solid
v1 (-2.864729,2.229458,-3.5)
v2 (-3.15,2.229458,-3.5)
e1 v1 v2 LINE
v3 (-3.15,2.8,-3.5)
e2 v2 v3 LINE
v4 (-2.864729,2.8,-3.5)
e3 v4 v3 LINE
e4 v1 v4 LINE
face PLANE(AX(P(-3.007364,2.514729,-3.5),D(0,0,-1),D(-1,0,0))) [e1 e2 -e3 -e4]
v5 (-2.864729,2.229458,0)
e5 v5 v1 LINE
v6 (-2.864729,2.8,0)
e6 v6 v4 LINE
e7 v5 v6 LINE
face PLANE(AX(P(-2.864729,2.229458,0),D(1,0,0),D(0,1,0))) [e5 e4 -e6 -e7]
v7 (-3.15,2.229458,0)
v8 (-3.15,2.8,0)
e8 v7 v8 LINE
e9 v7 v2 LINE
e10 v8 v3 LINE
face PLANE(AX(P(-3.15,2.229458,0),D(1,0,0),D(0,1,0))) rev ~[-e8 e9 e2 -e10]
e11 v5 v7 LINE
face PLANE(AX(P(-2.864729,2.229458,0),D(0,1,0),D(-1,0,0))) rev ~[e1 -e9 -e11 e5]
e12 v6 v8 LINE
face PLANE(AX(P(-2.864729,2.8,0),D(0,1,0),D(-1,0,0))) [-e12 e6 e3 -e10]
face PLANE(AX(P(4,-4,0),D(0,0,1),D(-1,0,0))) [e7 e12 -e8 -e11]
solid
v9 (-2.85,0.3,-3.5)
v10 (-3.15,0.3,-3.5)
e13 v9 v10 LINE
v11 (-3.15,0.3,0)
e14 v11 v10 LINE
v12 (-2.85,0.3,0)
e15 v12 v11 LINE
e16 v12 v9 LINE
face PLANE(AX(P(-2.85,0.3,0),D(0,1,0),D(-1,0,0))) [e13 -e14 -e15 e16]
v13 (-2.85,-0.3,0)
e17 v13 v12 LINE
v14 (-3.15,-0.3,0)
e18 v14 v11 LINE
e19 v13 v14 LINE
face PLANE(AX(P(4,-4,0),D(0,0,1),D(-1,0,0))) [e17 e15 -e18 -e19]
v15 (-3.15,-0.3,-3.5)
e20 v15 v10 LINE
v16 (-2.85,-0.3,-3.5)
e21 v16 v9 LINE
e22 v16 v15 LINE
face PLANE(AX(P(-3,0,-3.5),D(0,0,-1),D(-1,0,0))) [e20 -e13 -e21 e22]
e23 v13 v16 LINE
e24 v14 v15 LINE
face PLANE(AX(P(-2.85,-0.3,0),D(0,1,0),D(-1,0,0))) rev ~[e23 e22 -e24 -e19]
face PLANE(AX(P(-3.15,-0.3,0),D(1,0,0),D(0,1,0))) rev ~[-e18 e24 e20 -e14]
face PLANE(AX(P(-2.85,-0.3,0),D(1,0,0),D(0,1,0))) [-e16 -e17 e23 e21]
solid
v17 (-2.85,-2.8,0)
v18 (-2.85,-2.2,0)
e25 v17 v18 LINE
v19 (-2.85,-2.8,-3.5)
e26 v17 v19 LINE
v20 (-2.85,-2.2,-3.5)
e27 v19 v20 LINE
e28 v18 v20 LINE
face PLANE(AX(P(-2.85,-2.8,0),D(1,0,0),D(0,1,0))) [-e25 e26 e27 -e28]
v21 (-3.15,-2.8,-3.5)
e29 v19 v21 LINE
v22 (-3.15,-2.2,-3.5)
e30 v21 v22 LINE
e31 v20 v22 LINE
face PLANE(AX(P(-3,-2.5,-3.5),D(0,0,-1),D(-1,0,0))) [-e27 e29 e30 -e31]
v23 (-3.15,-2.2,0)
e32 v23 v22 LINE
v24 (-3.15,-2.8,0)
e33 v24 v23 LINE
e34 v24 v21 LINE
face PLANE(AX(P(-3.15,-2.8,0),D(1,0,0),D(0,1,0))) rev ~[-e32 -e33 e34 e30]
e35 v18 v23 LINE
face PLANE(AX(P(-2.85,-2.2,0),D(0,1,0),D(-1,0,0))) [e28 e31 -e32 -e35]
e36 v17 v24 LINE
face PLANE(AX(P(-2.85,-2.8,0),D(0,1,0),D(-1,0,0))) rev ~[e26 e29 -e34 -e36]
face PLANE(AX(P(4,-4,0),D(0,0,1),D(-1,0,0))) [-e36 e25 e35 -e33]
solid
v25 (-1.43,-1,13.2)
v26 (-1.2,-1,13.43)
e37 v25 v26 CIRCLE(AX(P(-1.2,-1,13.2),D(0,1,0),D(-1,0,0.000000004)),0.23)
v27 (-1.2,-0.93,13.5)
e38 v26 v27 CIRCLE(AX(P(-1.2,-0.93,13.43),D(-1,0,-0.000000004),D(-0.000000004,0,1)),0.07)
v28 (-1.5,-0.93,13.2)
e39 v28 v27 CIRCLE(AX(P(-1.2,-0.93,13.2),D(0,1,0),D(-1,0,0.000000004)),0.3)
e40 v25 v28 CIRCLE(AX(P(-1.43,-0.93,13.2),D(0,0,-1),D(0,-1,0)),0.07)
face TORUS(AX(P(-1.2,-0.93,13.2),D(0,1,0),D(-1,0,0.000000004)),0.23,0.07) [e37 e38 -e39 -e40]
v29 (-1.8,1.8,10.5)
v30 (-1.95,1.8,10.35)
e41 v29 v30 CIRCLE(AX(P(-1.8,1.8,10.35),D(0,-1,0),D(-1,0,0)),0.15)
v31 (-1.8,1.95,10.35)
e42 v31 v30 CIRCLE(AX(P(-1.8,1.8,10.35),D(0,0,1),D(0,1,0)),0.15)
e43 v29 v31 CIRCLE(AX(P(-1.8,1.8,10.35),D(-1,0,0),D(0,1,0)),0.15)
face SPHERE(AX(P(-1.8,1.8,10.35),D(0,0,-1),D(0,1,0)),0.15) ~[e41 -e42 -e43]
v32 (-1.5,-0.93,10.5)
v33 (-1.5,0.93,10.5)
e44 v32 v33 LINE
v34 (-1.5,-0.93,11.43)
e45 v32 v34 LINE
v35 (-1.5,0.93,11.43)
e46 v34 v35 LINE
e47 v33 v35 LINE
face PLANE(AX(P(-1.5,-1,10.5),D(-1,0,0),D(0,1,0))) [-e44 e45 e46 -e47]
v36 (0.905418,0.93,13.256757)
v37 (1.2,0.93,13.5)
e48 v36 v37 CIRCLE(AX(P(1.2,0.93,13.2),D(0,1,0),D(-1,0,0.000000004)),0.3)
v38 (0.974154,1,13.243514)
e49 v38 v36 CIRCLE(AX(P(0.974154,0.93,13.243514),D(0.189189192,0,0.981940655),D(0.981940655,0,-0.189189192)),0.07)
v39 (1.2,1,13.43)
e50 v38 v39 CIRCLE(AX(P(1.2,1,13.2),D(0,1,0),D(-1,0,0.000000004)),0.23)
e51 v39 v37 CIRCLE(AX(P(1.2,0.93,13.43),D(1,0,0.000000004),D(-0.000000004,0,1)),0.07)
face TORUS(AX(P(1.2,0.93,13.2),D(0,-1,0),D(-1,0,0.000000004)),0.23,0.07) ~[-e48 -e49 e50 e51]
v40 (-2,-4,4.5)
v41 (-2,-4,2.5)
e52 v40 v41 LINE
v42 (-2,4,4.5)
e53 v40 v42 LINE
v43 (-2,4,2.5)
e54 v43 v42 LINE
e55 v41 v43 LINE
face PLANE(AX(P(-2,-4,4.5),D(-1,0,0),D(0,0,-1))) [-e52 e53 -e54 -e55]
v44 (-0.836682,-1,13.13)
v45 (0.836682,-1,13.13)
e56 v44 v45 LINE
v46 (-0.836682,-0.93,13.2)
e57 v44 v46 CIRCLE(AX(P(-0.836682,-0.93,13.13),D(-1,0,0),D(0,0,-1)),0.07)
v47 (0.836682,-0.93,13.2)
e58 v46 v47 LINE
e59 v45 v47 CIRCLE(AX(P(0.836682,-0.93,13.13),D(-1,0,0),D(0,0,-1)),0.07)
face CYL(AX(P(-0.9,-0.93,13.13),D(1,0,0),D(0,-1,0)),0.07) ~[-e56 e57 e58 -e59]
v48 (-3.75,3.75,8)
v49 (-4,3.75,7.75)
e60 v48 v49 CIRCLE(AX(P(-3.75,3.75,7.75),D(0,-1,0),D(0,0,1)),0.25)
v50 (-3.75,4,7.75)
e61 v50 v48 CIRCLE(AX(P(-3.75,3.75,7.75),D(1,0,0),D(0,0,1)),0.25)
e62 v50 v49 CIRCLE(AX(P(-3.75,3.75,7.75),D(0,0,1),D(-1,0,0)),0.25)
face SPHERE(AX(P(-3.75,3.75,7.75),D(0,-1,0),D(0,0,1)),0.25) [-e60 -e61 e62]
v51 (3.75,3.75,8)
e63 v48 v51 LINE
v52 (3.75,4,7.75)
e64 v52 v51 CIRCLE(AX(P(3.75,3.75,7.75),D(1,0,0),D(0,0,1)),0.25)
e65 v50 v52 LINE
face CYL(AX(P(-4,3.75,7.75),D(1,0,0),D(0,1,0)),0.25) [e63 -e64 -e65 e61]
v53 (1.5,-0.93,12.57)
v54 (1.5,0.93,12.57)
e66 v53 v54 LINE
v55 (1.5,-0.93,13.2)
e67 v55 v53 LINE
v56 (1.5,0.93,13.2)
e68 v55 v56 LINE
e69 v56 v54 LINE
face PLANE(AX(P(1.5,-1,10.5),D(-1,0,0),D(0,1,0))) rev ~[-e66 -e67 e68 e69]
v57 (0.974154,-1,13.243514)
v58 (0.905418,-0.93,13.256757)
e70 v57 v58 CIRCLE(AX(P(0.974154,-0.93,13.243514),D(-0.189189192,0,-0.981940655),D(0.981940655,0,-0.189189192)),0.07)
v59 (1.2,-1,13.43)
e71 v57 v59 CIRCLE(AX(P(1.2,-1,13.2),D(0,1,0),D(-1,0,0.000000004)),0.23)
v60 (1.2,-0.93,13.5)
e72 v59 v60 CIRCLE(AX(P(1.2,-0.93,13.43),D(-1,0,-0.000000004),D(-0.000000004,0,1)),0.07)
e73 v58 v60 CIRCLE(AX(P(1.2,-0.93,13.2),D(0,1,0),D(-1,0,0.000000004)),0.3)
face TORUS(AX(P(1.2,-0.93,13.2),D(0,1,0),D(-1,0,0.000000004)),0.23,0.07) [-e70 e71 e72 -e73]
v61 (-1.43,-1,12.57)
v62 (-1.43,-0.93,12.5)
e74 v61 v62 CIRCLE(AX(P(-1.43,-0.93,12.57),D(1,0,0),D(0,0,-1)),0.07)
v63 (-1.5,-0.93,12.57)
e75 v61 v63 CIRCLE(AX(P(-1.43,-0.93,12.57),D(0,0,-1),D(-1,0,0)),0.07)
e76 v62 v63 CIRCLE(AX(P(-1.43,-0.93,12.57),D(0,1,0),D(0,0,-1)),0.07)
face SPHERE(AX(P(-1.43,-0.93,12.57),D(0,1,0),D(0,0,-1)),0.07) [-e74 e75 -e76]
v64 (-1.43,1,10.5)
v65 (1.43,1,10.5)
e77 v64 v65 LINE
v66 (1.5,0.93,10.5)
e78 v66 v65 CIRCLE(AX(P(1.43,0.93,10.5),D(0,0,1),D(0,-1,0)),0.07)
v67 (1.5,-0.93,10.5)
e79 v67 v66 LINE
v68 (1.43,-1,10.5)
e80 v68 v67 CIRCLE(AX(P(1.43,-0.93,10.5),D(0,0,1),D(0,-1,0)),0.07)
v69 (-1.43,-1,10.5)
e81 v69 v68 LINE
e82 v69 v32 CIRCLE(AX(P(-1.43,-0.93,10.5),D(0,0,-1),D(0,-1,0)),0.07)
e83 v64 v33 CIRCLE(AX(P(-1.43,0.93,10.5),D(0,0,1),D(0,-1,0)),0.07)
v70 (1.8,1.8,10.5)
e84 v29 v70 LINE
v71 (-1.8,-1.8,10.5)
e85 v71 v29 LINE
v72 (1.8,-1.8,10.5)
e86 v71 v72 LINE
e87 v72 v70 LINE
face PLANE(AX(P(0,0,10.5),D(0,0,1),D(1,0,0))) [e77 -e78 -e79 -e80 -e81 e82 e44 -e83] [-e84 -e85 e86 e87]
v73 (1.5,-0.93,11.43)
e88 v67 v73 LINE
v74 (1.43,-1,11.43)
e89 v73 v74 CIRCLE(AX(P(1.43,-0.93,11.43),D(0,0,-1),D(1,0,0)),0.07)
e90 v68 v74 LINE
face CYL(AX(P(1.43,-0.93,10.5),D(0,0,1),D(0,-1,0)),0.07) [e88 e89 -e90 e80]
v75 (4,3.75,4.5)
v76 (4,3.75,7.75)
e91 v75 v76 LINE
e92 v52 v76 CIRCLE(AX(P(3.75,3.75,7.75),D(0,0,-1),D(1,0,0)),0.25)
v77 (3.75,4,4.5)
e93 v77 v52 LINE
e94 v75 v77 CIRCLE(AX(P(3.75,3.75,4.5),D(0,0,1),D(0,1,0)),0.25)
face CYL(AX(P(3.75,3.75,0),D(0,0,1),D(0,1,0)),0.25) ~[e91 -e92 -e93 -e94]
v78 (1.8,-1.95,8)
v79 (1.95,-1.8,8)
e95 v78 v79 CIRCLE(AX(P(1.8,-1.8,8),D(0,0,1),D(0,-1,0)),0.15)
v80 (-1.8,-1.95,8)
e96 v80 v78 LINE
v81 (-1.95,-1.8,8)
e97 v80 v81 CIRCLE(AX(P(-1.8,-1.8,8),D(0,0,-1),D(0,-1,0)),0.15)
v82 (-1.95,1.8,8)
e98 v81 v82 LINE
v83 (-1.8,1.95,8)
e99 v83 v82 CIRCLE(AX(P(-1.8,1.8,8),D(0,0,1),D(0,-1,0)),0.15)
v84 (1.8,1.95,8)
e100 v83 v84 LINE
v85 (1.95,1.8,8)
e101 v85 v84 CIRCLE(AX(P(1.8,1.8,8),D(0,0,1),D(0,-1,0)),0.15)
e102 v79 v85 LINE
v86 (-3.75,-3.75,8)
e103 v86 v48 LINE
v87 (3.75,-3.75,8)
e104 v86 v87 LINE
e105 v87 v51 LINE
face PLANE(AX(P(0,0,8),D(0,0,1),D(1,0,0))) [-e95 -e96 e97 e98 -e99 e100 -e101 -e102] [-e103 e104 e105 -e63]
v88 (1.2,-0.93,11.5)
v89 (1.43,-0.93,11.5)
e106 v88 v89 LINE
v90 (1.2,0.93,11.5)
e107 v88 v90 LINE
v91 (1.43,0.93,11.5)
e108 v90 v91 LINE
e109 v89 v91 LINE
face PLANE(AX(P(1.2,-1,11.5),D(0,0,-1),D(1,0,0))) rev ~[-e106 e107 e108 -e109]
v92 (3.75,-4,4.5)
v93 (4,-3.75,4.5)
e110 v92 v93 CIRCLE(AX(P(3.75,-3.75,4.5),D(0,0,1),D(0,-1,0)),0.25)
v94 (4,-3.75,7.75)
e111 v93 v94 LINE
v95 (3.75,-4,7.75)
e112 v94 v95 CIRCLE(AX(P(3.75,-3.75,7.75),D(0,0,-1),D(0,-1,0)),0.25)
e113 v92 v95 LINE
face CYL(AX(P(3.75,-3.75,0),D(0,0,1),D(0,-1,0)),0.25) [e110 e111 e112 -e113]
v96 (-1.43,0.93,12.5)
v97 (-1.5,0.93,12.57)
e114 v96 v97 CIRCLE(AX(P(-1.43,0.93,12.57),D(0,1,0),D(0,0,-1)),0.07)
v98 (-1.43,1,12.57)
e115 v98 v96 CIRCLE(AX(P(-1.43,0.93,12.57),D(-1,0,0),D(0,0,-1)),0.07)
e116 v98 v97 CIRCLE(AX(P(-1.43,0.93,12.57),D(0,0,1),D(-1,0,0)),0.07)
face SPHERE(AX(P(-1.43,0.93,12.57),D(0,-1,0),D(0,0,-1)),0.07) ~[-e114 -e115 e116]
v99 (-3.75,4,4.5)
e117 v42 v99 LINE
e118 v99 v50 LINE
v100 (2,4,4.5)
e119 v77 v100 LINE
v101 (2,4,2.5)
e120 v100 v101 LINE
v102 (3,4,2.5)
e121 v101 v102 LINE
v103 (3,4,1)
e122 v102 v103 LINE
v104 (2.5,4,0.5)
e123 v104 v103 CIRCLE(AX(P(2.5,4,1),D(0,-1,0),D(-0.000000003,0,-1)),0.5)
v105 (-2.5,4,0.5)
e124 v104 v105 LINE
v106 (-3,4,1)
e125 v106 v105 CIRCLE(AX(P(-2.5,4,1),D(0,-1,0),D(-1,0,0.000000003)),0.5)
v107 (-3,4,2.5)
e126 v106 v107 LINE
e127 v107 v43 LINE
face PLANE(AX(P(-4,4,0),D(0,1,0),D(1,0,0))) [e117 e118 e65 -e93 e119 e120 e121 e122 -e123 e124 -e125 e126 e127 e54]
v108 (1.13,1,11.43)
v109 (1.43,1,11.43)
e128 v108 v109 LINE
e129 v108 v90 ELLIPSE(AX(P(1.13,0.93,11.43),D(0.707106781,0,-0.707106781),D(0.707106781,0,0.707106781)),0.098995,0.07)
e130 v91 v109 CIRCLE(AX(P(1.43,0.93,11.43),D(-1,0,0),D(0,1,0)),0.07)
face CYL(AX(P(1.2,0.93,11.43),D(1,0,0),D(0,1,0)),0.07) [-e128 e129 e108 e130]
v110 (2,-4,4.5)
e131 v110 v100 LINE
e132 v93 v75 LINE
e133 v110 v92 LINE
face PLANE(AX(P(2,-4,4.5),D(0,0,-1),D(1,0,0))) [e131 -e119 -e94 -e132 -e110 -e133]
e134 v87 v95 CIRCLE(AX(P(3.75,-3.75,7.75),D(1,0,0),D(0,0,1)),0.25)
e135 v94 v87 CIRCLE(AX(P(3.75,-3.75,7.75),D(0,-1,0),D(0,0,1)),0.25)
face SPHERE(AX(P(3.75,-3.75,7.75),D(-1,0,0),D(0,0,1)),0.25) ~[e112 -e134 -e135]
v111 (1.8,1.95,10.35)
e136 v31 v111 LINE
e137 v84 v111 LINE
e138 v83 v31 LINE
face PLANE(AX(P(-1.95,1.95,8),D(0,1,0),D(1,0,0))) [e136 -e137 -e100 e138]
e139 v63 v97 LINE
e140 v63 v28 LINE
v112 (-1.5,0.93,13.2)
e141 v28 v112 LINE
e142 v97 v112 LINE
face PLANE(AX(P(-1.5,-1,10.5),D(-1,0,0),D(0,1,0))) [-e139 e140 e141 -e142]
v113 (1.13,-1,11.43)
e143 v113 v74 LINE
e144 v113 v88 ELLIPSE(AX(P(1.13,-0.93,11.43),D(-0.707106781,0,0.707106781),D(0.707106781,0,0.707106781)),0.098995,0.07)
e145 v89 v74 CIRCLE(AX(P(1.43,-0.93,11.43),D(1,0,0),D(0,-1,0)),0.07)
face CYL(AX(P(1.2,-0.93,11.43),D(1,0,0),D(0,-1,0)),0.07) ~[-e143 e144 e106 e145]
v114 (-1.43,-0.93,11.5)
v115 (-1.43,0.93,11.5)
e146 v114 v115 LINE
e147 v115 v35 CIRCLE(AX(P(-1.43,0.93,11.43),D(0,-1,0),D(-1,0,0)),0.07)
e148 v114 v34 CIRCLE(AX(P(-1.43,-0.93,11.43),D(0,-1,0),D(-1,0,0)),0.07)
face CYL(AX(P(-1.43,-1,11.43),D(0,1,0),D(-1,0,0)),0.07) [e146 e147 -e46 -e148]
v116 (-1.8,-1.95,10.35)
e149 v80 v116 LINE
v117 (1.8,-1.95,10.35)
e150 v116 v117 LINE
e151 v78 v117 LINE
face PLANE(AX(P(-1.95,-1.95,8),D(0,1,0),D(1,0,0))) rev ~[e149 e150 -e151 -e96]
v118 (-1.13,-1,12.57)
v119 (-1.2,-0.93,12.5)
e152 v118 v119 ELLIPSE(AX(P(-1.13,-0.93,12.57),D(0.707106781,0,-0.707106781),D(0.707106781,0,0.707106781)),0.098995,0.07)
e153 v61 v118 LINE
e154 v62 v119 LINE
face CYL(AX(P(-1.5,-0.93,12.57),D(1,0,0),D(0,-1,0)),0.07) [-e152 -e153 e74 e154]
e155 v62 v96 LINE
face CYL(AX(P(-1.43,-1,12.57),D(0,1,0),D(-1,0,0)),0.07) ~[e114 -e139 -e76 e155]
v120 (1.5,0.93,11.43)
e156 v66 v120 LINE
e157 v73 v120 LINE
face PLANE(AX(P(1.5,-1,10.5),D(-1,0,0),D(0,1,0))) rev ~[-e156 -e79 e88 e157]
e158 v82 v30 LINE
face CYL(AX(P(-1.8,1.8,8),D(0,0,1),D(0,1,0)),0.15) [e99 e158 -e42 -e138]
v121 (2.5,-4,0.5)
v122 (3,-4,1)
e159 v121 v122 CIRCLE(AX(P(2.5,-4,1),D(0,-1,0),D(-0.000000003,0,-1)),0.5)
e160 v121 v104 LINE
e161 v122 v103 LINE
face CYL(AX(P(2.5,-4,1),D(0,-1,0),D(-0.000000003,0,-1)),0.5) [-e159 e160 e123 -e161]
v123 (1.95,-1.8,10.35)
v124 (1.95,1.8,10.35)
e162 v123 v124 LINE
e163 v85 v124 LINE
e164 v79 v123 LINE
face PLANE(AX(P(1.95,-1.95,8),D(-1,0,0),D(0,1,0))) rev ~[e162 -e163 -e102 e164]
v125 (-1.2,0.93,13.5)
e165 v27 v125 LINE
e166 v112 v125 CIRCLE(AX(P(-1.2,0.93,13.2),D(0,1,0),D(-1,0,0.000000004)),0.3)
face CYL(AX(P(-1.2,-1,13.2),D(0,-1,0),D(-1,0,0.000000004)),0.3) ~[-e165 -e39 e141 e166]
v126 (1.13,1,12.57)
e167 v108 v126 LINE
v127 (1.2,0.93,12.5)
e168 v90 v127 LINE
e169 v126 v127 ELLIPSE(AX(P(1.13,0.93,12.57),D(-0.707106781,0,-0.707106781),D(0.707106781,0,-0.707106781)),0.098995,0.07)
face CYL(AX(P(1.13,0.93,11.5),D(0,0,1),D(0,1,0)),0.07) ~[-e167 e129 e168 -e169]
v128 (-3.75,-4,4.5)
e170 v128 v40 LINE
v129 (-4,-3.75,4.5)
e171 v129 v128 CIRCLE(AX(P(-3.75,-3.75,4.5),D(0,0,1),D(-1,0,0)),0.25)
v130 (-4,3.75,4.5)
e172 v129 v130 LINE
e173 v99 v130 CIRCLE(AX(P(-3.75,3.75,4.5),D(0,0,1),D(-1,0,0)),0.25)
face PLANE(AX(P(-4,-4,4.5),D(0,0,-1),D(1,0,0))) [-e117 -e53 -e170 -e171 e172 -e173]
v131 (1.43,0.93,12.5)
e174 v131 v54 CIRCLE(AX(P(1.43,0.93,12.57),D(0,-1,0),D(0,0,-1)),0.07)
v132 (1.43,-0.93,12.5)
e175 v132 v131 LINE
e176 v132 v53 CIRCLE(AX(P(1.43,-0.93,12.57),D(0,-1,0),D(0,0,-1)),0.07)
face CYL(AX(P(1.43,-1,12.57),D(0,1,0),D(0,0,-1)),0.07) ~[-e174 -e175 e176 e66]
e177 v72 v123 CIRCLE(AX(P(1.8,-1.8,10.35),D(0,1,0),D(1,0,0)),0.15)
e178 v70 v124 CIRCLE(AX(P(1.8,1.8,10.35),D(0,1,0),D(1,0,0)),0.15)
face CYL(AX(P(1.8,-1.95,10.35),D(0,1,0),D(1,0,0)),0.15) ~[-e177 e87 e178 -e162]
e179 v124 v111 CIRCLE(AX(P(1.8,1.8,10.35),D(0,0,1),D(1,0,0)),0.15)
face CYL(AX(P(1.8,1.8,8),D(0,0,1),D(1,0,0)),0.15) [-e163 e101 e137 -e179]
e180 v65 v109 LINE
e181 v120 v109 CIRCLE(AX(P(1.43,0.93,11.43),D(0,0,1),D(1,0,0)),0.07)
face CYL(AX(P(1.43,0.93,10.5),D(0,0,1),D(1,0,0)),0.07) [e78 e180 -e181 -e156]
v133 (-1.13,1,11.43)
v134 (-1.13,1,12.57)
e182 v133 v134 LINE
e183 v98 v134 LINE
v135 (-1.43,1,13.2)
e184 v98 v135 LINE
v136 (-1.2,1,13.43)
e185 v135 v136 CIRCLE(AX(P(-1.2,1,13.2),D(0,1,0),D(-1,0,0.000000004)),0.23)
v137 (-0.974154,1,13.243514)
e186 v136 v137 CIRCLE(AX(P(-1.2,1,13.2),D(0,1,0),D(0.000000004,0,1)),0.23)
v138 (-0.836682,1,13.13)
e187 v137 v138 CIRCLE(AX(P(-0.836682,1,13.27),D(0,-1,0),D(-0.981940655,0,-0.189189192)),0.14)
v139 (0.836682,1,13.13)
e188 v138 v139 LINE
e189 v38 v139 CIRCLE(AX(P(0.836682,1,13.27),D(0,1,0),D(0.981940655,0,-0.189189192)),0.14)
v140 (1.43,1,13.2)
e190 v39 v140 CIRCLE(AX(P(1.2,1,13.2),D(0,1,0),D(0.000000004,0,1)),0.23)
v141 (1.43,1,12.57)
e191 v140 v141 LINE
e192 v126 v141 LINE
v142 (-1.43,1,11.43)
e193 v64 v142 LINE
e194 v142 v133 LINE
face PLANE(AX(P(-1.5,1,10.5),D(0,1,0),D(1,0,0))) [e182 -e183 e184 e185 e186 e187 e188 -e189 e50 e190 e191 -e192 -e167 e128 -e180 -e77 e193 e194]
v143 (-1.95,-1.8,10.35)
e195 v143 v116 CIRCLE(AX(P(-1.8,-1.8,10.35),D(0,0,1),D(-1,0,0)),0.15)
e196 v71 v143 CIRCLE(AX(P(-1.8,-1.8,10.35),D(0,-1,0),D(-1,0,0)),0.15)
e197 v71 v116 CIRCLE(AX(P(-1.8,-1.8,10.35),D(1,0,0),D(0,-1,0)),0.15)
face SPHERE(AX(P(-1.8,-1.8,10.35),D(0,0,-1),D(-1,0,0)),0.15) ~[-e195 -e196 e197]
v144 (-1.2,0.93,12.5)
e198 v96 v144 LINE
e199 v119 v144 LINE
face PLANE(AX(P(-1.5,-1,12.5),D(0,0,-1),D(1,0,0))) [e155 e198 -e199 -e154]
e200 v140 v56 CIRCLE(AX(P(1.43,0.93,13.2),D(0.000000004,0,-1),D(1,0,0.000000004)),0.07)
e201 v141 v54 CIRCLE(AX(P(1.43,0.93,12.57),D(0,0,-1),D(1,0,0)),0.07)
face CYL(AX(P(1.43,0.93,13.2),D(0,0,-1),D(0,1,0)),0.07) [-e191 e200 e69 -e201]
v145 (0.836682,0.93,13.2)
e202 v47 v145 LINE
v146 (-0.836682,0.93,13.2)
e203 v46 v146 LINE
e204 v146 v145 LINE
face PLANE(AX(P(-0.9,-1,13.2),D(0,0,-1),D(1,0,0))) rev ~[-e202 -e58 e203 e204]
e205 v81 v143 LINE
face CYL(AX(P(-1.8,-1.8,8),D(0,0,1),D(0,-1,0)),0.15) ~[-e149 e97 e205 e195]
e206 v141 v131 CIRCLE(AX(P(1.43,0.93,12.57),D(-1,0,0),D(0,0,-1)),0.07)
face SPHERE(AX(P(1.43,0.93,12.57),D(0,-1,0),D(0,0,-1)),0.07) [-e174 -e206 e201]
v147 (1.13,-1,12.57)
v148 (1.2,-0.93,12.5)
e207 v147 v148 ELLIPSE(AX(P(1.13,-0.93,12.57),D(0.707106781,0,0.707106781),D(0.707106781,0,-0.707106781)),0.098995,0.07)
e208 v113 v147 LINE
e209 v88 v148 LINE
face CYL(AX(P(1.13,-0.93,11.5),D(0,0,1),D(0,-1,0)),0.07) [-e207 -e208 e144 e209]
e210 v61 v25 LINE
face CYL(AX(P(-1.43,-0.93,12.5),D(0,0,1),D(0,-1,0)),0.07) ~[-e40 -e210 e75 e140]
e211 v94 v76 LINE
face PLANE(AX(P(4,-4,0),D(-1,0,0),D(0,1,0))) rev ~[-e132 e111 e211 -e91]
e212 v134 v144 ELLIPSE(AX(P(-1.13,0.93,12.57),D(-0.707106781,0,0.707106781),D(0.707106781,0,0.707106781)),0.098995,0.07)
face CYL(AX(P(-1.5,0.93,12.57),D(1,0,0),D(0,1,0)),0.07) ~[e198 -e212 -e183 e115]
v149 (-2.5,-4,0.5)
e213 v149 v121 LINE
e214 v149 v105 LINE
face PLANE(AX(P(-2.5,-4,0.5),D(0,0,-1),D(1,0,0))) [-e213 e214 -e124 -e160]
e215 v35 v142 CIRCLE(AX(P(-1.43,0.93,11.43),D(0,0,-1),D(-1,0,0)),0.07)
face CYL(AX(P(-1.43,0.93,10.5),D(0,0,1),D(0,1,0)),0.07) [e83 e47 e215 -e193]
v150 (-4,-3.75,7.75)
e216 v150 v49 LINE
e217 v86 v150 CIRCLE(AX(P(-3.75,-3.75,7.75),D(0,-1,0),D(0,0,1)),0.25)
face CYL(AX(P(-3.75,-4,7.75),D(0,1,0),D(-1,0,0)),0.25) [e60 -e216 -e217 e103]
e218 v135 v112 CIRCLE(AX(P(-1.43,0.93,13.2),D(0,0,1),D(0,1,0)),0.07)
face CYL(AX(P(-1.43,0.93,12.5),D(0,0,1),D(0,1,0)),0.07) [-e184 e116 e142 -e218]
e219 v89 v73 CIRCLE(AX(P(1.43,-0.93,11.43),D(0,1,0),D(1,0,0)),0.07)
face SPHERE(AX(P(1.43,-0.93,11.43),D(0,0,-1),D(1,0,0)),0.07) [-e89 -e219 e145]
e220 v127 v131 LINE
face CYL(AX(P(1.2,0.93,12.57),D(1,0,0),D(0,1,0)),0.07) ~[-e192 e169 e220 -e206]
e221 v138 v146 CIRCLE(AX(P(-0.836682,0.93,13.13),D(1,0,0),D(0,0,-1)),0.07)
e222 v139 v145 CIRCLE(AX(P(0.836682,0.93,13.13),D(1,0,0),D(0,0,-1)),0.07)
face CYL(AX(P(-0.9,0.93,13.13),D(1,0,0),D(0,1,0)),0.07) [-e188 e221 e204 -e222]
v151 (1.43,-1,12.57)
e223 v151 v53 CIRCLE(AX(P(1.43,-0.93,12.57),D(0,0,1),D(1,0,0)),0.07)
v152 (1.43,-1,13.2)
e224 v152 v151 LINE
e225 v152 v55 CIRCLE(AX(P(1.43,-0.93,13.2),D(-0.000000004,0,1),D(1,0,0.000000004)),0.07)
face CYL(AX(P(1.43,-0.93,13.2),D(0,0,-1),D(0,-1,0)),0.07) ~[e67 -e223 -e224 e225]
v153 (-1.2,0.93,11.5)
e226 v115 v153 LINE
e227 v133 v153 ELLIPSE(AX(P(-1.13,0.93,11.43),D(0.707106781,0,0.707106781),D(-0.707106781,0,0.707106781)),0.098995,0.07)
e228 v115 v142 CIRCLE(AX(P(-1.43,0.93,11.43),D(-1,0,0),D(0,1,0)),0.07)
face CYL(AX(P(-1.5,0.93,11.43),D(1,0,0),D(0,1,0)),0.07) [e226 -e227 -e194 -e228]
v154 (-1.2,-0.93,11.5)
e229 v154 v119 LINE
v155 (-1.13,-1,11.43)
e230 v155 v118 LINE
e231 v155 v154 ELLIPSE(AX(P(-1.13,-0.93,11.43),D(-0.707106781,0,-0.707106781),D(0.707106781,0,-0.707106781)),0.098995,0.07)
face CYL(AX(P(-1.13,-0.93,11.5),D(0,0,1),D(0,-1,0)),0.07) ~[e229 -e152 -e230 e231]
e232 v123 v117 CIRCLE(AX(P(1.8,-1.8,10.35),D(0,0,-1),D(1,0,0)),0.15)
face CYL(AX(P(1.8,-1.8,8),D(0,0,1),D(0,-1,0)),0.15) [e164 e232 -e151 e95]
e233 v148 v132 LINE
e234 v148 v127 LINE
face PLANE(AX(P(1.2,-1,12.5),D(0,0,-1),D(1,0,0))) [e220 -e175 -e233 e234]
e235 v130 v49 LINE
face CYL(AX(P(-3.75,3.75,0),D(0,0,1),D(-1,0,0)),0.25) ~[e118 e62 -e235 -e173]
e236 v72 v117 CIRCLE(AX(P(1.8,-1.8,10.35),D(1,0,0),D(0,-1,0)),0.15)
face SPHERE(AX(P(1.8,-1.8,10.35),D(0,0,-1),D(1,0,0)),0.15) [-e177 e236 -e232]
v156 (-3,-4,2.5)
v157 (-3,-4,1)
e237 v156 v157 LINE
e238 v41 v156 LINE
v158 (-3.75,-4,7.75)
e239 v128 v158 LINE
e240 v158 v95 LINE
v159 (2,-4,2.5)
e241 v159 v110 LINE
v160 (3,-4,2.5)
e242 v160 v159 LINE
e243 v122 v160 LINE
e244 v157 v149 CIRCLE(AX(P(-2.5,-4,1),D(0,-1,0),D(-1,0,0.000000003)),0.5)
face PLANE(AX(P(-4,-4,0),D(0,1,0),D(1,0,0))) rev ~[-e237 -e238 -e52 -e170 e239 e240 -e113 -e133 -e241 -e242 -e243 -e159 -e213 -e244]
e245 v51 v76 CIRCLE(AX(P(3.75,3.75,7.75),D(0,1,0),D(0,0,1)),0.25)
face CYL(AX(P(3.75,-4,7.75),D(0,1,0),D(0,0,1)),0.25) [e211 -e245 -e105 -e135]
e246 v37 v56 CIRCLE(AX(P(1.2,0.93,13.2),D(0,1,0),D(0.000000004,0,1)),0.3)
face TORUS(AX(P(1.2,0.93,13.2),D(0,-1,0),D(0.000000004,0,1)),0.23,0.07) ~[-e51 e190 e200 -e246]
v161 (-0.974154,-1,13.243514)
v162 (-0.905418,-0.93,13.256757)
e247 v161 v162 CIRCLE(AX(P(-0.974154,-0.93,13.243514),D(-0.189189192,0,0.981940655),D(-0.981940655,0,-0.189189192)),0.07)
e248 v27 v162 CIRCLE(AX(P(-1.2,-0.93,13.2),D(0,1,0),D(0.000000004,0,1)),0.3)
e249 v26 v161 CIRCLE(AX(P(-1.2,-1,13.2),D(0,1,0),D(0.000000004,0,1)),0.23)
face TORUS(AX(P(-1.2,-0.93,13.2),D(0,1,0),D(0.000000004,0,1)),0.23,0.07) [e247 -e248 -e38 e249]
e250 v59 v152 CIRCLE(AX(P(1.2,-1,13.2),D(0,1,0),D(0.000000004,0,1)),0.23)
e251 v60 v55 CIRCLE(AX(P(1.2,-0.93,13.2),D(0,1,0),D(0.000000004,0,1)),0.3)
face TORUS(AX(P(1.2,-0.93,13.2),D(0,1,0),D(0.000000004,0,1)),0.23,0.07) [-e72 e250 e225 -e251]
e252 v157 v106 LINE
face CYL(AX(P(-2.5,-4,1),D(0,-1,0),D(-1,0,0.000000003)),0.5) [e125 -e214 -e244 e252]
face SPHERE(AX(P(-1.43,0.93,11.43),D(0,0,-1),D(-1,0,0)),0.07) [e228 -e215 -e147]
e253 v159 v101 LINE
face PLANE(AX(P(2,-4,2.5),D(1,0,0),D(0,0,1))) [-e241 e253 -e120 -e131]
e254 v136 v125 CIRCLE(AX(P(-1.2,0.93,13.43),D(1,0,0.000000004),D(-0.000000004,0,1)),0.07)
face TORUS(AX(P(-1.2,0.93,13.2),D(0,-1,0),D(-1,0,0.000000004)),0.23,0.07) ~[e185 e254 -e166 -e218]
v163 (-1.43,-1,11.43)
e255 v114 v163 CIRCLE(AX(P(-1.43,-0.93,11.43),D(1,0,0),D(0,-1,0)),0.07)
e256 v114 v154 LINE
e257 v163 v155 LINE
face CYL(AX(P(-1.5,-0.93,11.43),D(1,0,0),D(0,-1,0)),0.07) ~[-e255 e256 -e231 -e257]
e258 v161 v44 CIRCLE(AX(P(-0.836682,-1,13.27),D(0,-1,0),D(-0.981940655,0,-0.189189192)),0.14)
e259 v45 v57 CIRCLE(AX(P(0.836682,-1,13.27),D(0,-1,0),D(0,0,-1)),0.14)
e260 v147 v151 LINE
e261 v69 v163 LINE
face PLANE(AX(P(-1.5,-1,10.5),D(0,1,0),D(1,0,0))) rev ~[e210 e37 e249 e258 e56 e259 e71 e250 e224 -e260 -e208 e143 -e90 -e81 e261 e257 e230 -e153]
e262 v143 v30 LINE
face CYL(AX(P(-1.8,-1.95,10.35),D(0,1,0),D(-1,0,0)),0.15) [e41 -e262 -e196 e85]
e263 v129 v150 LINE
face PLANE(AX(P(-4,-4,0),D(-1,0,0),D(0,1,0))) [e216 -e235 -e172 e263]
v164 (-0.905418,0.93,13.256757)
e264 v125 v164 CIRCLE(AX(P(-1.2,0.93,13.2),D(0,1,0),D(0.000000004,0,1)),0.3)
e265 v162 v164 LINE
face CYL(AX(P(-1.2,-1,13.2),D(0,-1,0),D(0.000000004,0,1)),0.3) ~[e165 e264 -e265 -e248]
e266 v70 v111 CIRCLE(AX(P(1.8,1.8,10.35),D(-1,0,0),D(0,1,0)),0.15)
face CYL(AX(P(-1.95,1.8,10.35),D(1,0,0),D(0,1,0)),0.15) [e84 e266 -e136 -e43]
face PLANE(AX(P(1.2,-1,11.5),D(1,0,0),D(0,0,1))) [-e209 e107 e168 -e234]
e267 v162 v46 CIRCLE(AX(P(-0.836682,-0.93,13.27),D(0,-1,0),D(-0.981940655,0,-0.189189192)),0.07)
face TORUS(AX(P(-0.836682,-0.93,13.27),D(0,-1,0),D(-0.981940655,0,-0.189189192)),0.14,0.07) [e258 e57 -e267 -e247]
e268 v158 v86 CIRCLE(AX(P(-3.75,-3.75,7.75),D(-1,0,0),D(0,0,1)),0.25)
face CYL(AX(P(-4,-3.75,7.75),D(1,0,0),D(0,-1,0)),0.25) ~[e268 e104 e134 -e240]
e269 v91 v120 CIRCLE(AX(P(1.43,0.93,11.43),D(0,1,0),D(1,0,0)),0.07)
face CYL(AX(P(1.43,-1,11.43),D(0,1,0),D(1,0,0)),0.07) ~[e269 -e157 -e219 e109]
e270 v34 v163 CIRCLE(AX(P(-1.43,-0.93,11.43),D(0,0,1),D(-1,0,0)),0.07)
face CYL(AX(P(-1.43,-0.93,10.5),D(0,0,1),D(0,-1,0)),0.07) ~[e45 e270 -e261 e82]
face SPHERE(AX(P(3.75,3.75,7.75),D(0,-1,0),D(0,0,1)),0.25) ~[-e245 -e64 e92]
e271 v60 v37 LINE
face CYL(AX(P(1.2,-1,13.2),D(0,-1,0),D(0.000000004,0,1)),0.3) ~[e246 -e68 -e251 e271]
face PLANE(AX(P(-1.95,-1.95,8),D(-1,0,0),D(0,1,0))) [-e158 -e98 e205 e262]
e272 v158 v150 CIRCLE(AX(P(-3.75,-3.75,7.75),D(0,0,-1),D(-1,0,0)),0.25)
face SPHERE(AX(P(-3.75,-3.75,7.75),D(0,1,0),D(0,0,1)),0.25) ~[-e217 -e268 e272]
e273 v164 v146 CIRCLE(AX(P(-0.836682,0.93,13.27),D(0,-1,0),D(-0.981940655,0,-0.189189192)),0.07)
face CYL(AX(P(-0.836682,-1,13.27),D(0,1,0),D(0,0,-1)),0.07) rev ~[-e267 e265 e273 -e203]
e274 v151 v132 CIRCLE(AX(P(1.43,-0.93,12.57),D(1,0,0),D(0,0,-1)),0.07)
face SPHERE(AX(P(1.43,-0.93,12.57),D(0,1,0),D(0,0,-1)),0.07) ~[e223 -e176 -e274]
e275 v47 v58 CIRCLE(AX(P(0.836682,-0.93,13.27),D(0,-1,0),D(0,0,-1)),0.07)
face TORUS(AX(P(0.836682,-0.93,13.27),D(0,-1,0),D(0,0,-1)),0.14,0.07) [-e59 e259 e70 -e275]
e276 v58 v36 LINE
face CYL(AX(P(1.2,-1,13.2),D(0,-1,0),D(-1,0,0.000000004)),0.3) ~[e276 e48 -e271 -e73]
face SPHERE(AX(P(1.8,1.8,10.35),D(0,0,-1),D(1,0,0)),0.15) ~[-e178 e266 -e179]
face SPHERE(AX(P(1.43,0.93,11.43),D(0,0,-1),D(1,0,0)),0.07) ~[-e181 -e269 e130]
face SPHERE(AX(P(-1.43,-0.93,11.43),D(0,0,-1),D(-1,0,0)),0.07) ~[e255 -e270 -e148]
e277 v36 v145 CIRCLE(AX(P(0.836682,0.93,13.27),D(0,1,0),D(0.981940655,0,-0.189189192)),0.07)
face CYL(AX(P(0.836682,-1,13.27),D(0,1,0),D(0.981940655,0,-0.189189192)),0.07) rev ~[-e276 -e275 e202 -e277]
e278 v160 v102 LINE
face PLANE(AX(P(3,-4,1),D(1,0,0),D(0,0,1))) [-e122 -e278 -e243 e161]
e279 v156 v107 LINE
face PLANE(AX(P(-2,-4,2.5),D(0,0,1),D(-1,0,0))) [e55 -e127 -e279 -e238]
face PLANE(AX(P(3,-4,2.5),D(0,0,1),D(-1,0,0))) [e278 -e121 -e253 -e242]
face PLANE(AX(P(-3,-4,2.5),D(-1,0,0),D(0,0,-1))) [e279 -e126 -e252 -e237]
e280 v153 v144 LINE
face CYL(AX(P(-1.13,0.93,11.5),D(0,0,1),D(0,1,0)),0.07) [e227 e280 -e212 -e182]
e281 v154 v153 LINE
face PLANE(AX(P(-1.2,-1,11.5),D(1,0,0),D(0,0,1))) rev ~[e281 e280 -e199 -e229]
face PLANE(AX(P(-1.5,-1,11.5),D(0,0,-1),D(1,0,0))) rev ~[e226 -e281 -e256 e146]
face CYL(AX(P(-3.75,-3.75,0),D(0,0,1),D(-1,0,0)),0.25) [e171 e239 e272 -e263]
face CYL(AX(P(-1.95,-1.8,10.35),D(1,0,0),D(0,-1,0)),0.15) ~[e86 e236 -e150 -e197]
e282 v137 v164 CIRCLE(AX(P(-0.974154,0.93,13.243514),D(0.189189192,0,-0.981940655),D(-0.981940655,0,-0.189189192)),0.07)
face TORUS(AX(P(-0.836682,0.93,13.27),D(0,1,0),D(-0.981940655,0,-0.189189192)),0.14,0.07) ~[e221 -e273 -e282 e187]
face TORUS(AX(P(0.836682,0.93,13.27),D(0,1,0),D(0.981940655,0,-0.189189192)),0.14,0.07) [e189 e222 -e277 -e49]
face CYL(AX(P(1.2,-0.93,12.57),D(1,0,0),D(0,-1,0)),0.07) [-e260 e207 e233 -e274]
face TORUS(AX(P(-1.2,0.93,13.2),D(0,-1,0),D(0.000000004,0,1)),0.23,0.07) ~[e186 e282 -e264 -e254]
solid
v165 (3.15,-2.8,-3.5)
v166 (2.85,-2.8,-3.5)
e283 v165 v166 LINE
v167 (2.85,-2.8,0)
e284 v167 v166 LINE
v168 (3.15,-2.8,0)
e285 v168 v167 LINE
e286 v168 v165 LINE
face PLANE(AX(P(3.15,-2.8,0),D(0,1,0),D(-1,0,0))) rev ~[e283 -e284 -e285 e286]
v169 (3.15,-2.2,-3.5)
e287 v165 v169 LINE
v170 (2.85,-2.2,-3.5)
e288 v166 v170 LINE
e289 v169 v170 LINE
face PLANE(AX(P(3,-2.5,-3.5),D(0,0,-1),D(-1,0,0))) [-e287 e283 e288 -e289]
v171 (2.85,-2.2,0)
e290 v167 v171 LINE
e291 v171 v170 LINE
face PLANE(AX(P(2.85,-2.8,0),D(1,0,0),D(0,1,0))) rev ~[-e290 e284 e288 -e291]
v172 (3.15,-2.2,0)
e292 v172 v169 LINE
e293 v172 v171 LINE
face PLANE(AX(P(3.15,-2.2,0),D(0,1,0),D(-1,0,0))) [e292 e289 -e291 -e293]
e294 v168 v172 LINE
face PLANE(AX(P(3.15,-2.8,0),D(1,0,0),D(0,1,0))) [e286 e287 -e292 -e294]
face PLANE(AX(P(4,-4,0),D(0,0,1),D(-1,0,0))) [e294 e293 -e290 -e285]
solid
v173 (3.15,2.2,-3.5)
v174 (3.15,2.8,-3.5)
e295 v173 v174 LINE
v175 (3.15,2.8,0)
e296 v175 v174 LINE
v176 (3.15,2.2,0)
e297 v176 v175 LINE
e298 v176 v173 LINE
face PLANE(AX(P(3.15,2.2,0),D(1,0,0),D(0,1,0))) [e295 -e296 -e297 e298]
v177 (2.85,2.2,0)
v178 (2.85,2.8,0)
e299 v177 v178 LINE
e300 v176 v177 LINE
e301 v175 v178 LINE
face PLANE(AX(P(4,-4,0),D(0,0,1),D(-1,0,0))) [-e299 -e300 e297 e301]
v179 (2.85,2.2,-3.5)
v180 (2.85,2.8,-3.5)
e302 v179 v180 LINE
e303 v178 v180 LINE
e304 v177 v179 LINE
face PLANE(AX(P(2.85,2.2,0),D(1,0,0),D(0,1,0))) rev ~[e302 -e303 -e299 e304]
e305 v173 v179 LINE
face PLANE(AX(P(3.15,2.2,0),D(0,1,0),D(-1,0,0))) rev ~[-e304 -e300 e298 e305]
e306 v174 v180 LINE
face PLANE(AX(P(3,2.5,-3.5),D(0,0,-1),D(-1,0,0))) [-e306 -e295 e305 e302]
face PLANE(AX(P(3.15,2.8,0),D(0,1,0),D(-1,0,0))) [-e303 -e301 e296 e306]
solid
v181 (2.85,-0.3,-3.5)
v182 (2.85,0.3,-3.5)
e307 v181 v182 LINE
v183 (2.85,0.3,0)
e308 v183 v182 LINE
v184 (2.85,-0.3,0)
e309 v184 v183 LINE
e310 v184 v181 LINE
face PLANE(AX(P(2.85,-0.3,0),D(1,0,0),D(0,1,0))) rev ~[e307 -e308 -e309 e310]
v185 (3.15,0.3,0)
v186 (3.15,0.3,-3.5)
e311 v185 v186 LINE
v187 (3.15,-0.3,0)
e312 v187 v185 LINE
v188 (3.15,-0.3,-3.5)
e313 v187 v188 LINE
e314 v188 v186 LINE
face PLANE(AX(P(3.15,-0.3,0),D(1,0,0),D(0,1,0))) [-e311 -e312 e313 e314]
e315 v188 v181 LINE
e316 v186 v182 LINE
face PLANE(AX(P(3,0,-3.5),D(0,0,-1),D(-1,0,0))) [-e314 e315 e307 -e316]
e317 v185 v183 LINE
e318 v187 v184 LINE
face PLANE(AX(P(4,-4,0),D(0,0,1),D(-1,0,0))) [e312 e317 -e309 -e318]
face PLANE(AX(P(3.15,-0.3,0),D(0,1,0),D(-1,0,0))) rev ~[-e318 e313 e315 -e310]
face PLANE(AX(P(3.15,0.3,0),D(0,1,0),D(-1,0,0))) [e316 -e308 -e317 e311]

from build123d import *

# Parameters (mm, degrees)
SKETCH_1_W          = 8
SKETCH_1_H          = 8
EXTRUDE_1_DEPTH     = 8
SKETCH_3_W          = 3.9
SKETCH_3_H          = 3.9
EXTRUDE_2_DEPTH     = 2.5
SKETCH_4_W          = 3
SKETCH_4_H          = 2
EXTRUDE_3_DEPTH     = 3
SKETCH_5_W          = 0.3
SKETCH_5_H          = 0.6
SKETCH_5_W_2        = 0.285271027
SKETCH_5_H_2        = 0.570542054
EXTRUDE_4_DEPTH     = 3.5
SKETCH_6_W          = 0.3
SKETCH_6_H          = 1
CUT_EXTRUDE_1_DEPTH = 2
CUT_EXTRUDE_3_DEPTH = 2
FILLET_1_R          = 0.25
FILLET_2_R          = 0.15
FILLET_3_R          = 0.07
CUT_EXTRUDE_5_DEPTH = 9


with BuildPart() as part:
    # 草圖1 → 填料-伸長1 (new body)
    with BuildSketch(Plane.XY):
        Rectangle(SKETCH_1_W, SKETCH_1_H)
    extrude(amount=EXTRUDE_1_DEPTH)

    # 草圖3 → 填料-伸長2 (add)
    with BuildSketch(Plane.XY.offset(8)):
        Rectangle(SKETCH_3_W, SKETCH_3_H)
    extrude(amount=EXTRUDE_2_DEPTH)

    # 草圖4 → 填料-伸長3 (add)
    with BuildSketch(Plane.XY.offset(10.5)):
        Rectangle(SKETCH_4_W, SKETCH_4_H)
    extrude(amount=EXTRUDE_3_DEPTH)

    # 草圖5 → 填料-伸長4 (add)
    with BuildSketch(Plane(origin=(0, 0, 0), x_dir=(-1, 0, 0), z_dir=(0, 0, -1))):
        with Locations((-3, 0)):
            Rectangle(SKETCH_5_W, SKETCH_5_H)
        with Locations((-3, 2.5)):
            Rectangle(SKETCH_5_W, SKETCH_5_H)
        with Locations((-3, -2.5)):
            Rectangle(SKETCH_5_W, SKETCH_5_H)
        with Locations((3, -2.5)):
            Rectangle(SKETCH_5_W, SKETCH_5_H)
        with Locations((3, 0)):
            Rectangle(SKETCH_5_W, SKETCH_5_H)
        with Locations((3.007364487, 2.514728973)):
            Rectangle(SKETCH_5_W_2, SKETCH_5_H_2)
    extrude(amount=EXTRUDE_4_DEPTH)

    # 草圖6 → 除料-伸長1 (cut)
    with BuildSketch(Plane.XZ.offset(1)):
        with Locations((-1.35, 12)):
            Rectangle(SKETCH_6_W, SKETCH_6_H)
        with Locations((1.35, 12)):
            Rectangle(SKETCH_6_W, SKETCH_6_H)
    extrude(amount=-CUT_EXTRUDE_1_DEPTH, mode=Mode.SUBTRACT)

    # 草圖7 → 除料-伸長3 (cut)
    with BuildSketch(Plane.XZ.offset(1)):
        with BuildLine():
            ThreePointArc((-1.5, 13.2), (-1.412132034, 13.412132034), (-1.2, 13.5))
            Line((-1.2, 13.5), (-1.5, 13.5))
            Line((-1.5, 13.5), (-1.5, 13.2))
        make_face()
        with BuildLine():
            Line((-0.9, 13.2), (0, 13.2))
            Line((0, 13.2), (0.9, 13.2))
            ThreePointArc((0.9, 13.2), (0.987867966, 13.412132034), (1.2, 13.5))
            Line((1.2, 13.5), (0, 13.5))
            Line((0, 13.5), (-1.2, 13.5))
            ThreePointArc((-1.2, 13.5), (-0.987867966, 13.412132034), (-0.9, 13.2))
        make_face()
        with BuildLine():
            Line((1.5, 13.5), (1.2, 13.5))
            ThreePointArc((1.2, 13.5), (1.412132034, 13.412132034), (1.5, 13.2))
            Line((1.5, 13.2), (1.5, 13.5))
        make_face()
    extrude(amount=-CUT_EXTRUDE_3_DEPTH, mode=Mode.SUBTRACT)

    # 圓角1
    fillet_1_edges = [part.edges().sort_by_distance(p)[0] for p in [
        (-4, 0, 8),
        (0, -4, 8),
        (4, 0, 8),
        (0, -4, 0),
        (-4, 0, 0),
        (0, 4, 0),
        (4, 0, 0),
        (0, 4, 8),
        (4, -4, 4),
        (-4, -4, 4),
        (-4, 4, 4),
        (4, 4, 4),
    ]]
    fillet(fillet_1_edges, radius=FILLET_1_R)

    # 圓角2
    fillet_2_edges = [part.edges().sort_by_distance(p)[0] for p in [
        (1.95, -1.95, 9.25),
        (1.95, 1.95, 9.25),
        (-1.95, 1.95, 9.25),
        (-1.95, -1.95, 9.25),
        (1.95, 0, 10.5),
        (0, 1.95, 10.5),
        (-1.95, 0, 10.5),
        (0, -1.95, 10.5),
    ]]
    fillet(fillet_2_edges, radius=FILLET_2_R)

    # 圓角3
    fillet_3_edges = [part.edges().sort_by_distance(p)[0] for p in [
        (1.5, -1, 11),
        (1.5, 1, 11),
        (1.5, 0, 12.5),
        (1.5, 0, 11.5),
        (1.35, -1, 12.5),
        (1.2, -1, 12),
        (1.35, -1, 11.5),
        (1.35, 1, 12.5),
        (1.35, 1, 11.5),
        (1.2, 1, 12),
        (-1.5, -1, 11),
        (-1.5, 1, 11),
        (-1.5, 0, 12.5),
        (-1.5, 0, 11.5),
        (-1.35, -1, 12.5),
        (-1.35, -1, 11.5),
        (-1.2, -1, 12),
        (-1.35, 1, 12.5),
        (-1.2, 1, 12),
        (-1.35, 1, 11.5),
        (-1.5, -1, 12.85),
        (-1.5, 1, 12.85),
        (-1.2, -1, 13.5),
        (-1.2, 1, 13.5),
        (1.2, 1, 13.5),
        (1.2, -1, 13.5),
        (0, 1, 13.2),
        (0.9, 0, 13.2),
        (0, -1, 13.2),
        (-0.9, 0, 13.2),
        (1.5, -1, 12.85),
        (1.5, 1, 12.85),
    ]]
    fillet(fillet_3_edges, radius=FILLET_3_R)

    # 草圖9 → 除料-伸長5 (cut, through all)
    with BuildSketch(Plane.XZ.offset(4)):
        with BuildLine():
            Line((-4, 0), (-4, 4.5))
            Line((-4, 4.5), (-2, 4.5))
            Line((-2, 4.5), (-2, 2.5))
            Line((-2, 2.5), (-3, 2.5))
            Line((-3, 2.5), (-3, 1))
            ThreePointArc((-3, 1), (-2.853553391, 0.646446609), (-2.5, 0.5))
            Line((-2.5, 0.5), (2.5, 0.5))
            ThreePointArc((2.5, 0.5), (2.853553391, 0.646446609), (3, 1))
            Line((3, 1), (3, 2.5))
            Line((3, 2.5), (2, 2.5))
            Line((2, 2.5), (2, 4.5))
            Line((2, 4.5), (4, 4.5))
            Line((4, 4.5), (4, 0))
            Line((4, 0), (-4, 0))
        make_face()
    extrude(amount=-CUT_EXTRUDE_5_DEPTH, mode=Mode.SUBTRACT)


solid = part.part
